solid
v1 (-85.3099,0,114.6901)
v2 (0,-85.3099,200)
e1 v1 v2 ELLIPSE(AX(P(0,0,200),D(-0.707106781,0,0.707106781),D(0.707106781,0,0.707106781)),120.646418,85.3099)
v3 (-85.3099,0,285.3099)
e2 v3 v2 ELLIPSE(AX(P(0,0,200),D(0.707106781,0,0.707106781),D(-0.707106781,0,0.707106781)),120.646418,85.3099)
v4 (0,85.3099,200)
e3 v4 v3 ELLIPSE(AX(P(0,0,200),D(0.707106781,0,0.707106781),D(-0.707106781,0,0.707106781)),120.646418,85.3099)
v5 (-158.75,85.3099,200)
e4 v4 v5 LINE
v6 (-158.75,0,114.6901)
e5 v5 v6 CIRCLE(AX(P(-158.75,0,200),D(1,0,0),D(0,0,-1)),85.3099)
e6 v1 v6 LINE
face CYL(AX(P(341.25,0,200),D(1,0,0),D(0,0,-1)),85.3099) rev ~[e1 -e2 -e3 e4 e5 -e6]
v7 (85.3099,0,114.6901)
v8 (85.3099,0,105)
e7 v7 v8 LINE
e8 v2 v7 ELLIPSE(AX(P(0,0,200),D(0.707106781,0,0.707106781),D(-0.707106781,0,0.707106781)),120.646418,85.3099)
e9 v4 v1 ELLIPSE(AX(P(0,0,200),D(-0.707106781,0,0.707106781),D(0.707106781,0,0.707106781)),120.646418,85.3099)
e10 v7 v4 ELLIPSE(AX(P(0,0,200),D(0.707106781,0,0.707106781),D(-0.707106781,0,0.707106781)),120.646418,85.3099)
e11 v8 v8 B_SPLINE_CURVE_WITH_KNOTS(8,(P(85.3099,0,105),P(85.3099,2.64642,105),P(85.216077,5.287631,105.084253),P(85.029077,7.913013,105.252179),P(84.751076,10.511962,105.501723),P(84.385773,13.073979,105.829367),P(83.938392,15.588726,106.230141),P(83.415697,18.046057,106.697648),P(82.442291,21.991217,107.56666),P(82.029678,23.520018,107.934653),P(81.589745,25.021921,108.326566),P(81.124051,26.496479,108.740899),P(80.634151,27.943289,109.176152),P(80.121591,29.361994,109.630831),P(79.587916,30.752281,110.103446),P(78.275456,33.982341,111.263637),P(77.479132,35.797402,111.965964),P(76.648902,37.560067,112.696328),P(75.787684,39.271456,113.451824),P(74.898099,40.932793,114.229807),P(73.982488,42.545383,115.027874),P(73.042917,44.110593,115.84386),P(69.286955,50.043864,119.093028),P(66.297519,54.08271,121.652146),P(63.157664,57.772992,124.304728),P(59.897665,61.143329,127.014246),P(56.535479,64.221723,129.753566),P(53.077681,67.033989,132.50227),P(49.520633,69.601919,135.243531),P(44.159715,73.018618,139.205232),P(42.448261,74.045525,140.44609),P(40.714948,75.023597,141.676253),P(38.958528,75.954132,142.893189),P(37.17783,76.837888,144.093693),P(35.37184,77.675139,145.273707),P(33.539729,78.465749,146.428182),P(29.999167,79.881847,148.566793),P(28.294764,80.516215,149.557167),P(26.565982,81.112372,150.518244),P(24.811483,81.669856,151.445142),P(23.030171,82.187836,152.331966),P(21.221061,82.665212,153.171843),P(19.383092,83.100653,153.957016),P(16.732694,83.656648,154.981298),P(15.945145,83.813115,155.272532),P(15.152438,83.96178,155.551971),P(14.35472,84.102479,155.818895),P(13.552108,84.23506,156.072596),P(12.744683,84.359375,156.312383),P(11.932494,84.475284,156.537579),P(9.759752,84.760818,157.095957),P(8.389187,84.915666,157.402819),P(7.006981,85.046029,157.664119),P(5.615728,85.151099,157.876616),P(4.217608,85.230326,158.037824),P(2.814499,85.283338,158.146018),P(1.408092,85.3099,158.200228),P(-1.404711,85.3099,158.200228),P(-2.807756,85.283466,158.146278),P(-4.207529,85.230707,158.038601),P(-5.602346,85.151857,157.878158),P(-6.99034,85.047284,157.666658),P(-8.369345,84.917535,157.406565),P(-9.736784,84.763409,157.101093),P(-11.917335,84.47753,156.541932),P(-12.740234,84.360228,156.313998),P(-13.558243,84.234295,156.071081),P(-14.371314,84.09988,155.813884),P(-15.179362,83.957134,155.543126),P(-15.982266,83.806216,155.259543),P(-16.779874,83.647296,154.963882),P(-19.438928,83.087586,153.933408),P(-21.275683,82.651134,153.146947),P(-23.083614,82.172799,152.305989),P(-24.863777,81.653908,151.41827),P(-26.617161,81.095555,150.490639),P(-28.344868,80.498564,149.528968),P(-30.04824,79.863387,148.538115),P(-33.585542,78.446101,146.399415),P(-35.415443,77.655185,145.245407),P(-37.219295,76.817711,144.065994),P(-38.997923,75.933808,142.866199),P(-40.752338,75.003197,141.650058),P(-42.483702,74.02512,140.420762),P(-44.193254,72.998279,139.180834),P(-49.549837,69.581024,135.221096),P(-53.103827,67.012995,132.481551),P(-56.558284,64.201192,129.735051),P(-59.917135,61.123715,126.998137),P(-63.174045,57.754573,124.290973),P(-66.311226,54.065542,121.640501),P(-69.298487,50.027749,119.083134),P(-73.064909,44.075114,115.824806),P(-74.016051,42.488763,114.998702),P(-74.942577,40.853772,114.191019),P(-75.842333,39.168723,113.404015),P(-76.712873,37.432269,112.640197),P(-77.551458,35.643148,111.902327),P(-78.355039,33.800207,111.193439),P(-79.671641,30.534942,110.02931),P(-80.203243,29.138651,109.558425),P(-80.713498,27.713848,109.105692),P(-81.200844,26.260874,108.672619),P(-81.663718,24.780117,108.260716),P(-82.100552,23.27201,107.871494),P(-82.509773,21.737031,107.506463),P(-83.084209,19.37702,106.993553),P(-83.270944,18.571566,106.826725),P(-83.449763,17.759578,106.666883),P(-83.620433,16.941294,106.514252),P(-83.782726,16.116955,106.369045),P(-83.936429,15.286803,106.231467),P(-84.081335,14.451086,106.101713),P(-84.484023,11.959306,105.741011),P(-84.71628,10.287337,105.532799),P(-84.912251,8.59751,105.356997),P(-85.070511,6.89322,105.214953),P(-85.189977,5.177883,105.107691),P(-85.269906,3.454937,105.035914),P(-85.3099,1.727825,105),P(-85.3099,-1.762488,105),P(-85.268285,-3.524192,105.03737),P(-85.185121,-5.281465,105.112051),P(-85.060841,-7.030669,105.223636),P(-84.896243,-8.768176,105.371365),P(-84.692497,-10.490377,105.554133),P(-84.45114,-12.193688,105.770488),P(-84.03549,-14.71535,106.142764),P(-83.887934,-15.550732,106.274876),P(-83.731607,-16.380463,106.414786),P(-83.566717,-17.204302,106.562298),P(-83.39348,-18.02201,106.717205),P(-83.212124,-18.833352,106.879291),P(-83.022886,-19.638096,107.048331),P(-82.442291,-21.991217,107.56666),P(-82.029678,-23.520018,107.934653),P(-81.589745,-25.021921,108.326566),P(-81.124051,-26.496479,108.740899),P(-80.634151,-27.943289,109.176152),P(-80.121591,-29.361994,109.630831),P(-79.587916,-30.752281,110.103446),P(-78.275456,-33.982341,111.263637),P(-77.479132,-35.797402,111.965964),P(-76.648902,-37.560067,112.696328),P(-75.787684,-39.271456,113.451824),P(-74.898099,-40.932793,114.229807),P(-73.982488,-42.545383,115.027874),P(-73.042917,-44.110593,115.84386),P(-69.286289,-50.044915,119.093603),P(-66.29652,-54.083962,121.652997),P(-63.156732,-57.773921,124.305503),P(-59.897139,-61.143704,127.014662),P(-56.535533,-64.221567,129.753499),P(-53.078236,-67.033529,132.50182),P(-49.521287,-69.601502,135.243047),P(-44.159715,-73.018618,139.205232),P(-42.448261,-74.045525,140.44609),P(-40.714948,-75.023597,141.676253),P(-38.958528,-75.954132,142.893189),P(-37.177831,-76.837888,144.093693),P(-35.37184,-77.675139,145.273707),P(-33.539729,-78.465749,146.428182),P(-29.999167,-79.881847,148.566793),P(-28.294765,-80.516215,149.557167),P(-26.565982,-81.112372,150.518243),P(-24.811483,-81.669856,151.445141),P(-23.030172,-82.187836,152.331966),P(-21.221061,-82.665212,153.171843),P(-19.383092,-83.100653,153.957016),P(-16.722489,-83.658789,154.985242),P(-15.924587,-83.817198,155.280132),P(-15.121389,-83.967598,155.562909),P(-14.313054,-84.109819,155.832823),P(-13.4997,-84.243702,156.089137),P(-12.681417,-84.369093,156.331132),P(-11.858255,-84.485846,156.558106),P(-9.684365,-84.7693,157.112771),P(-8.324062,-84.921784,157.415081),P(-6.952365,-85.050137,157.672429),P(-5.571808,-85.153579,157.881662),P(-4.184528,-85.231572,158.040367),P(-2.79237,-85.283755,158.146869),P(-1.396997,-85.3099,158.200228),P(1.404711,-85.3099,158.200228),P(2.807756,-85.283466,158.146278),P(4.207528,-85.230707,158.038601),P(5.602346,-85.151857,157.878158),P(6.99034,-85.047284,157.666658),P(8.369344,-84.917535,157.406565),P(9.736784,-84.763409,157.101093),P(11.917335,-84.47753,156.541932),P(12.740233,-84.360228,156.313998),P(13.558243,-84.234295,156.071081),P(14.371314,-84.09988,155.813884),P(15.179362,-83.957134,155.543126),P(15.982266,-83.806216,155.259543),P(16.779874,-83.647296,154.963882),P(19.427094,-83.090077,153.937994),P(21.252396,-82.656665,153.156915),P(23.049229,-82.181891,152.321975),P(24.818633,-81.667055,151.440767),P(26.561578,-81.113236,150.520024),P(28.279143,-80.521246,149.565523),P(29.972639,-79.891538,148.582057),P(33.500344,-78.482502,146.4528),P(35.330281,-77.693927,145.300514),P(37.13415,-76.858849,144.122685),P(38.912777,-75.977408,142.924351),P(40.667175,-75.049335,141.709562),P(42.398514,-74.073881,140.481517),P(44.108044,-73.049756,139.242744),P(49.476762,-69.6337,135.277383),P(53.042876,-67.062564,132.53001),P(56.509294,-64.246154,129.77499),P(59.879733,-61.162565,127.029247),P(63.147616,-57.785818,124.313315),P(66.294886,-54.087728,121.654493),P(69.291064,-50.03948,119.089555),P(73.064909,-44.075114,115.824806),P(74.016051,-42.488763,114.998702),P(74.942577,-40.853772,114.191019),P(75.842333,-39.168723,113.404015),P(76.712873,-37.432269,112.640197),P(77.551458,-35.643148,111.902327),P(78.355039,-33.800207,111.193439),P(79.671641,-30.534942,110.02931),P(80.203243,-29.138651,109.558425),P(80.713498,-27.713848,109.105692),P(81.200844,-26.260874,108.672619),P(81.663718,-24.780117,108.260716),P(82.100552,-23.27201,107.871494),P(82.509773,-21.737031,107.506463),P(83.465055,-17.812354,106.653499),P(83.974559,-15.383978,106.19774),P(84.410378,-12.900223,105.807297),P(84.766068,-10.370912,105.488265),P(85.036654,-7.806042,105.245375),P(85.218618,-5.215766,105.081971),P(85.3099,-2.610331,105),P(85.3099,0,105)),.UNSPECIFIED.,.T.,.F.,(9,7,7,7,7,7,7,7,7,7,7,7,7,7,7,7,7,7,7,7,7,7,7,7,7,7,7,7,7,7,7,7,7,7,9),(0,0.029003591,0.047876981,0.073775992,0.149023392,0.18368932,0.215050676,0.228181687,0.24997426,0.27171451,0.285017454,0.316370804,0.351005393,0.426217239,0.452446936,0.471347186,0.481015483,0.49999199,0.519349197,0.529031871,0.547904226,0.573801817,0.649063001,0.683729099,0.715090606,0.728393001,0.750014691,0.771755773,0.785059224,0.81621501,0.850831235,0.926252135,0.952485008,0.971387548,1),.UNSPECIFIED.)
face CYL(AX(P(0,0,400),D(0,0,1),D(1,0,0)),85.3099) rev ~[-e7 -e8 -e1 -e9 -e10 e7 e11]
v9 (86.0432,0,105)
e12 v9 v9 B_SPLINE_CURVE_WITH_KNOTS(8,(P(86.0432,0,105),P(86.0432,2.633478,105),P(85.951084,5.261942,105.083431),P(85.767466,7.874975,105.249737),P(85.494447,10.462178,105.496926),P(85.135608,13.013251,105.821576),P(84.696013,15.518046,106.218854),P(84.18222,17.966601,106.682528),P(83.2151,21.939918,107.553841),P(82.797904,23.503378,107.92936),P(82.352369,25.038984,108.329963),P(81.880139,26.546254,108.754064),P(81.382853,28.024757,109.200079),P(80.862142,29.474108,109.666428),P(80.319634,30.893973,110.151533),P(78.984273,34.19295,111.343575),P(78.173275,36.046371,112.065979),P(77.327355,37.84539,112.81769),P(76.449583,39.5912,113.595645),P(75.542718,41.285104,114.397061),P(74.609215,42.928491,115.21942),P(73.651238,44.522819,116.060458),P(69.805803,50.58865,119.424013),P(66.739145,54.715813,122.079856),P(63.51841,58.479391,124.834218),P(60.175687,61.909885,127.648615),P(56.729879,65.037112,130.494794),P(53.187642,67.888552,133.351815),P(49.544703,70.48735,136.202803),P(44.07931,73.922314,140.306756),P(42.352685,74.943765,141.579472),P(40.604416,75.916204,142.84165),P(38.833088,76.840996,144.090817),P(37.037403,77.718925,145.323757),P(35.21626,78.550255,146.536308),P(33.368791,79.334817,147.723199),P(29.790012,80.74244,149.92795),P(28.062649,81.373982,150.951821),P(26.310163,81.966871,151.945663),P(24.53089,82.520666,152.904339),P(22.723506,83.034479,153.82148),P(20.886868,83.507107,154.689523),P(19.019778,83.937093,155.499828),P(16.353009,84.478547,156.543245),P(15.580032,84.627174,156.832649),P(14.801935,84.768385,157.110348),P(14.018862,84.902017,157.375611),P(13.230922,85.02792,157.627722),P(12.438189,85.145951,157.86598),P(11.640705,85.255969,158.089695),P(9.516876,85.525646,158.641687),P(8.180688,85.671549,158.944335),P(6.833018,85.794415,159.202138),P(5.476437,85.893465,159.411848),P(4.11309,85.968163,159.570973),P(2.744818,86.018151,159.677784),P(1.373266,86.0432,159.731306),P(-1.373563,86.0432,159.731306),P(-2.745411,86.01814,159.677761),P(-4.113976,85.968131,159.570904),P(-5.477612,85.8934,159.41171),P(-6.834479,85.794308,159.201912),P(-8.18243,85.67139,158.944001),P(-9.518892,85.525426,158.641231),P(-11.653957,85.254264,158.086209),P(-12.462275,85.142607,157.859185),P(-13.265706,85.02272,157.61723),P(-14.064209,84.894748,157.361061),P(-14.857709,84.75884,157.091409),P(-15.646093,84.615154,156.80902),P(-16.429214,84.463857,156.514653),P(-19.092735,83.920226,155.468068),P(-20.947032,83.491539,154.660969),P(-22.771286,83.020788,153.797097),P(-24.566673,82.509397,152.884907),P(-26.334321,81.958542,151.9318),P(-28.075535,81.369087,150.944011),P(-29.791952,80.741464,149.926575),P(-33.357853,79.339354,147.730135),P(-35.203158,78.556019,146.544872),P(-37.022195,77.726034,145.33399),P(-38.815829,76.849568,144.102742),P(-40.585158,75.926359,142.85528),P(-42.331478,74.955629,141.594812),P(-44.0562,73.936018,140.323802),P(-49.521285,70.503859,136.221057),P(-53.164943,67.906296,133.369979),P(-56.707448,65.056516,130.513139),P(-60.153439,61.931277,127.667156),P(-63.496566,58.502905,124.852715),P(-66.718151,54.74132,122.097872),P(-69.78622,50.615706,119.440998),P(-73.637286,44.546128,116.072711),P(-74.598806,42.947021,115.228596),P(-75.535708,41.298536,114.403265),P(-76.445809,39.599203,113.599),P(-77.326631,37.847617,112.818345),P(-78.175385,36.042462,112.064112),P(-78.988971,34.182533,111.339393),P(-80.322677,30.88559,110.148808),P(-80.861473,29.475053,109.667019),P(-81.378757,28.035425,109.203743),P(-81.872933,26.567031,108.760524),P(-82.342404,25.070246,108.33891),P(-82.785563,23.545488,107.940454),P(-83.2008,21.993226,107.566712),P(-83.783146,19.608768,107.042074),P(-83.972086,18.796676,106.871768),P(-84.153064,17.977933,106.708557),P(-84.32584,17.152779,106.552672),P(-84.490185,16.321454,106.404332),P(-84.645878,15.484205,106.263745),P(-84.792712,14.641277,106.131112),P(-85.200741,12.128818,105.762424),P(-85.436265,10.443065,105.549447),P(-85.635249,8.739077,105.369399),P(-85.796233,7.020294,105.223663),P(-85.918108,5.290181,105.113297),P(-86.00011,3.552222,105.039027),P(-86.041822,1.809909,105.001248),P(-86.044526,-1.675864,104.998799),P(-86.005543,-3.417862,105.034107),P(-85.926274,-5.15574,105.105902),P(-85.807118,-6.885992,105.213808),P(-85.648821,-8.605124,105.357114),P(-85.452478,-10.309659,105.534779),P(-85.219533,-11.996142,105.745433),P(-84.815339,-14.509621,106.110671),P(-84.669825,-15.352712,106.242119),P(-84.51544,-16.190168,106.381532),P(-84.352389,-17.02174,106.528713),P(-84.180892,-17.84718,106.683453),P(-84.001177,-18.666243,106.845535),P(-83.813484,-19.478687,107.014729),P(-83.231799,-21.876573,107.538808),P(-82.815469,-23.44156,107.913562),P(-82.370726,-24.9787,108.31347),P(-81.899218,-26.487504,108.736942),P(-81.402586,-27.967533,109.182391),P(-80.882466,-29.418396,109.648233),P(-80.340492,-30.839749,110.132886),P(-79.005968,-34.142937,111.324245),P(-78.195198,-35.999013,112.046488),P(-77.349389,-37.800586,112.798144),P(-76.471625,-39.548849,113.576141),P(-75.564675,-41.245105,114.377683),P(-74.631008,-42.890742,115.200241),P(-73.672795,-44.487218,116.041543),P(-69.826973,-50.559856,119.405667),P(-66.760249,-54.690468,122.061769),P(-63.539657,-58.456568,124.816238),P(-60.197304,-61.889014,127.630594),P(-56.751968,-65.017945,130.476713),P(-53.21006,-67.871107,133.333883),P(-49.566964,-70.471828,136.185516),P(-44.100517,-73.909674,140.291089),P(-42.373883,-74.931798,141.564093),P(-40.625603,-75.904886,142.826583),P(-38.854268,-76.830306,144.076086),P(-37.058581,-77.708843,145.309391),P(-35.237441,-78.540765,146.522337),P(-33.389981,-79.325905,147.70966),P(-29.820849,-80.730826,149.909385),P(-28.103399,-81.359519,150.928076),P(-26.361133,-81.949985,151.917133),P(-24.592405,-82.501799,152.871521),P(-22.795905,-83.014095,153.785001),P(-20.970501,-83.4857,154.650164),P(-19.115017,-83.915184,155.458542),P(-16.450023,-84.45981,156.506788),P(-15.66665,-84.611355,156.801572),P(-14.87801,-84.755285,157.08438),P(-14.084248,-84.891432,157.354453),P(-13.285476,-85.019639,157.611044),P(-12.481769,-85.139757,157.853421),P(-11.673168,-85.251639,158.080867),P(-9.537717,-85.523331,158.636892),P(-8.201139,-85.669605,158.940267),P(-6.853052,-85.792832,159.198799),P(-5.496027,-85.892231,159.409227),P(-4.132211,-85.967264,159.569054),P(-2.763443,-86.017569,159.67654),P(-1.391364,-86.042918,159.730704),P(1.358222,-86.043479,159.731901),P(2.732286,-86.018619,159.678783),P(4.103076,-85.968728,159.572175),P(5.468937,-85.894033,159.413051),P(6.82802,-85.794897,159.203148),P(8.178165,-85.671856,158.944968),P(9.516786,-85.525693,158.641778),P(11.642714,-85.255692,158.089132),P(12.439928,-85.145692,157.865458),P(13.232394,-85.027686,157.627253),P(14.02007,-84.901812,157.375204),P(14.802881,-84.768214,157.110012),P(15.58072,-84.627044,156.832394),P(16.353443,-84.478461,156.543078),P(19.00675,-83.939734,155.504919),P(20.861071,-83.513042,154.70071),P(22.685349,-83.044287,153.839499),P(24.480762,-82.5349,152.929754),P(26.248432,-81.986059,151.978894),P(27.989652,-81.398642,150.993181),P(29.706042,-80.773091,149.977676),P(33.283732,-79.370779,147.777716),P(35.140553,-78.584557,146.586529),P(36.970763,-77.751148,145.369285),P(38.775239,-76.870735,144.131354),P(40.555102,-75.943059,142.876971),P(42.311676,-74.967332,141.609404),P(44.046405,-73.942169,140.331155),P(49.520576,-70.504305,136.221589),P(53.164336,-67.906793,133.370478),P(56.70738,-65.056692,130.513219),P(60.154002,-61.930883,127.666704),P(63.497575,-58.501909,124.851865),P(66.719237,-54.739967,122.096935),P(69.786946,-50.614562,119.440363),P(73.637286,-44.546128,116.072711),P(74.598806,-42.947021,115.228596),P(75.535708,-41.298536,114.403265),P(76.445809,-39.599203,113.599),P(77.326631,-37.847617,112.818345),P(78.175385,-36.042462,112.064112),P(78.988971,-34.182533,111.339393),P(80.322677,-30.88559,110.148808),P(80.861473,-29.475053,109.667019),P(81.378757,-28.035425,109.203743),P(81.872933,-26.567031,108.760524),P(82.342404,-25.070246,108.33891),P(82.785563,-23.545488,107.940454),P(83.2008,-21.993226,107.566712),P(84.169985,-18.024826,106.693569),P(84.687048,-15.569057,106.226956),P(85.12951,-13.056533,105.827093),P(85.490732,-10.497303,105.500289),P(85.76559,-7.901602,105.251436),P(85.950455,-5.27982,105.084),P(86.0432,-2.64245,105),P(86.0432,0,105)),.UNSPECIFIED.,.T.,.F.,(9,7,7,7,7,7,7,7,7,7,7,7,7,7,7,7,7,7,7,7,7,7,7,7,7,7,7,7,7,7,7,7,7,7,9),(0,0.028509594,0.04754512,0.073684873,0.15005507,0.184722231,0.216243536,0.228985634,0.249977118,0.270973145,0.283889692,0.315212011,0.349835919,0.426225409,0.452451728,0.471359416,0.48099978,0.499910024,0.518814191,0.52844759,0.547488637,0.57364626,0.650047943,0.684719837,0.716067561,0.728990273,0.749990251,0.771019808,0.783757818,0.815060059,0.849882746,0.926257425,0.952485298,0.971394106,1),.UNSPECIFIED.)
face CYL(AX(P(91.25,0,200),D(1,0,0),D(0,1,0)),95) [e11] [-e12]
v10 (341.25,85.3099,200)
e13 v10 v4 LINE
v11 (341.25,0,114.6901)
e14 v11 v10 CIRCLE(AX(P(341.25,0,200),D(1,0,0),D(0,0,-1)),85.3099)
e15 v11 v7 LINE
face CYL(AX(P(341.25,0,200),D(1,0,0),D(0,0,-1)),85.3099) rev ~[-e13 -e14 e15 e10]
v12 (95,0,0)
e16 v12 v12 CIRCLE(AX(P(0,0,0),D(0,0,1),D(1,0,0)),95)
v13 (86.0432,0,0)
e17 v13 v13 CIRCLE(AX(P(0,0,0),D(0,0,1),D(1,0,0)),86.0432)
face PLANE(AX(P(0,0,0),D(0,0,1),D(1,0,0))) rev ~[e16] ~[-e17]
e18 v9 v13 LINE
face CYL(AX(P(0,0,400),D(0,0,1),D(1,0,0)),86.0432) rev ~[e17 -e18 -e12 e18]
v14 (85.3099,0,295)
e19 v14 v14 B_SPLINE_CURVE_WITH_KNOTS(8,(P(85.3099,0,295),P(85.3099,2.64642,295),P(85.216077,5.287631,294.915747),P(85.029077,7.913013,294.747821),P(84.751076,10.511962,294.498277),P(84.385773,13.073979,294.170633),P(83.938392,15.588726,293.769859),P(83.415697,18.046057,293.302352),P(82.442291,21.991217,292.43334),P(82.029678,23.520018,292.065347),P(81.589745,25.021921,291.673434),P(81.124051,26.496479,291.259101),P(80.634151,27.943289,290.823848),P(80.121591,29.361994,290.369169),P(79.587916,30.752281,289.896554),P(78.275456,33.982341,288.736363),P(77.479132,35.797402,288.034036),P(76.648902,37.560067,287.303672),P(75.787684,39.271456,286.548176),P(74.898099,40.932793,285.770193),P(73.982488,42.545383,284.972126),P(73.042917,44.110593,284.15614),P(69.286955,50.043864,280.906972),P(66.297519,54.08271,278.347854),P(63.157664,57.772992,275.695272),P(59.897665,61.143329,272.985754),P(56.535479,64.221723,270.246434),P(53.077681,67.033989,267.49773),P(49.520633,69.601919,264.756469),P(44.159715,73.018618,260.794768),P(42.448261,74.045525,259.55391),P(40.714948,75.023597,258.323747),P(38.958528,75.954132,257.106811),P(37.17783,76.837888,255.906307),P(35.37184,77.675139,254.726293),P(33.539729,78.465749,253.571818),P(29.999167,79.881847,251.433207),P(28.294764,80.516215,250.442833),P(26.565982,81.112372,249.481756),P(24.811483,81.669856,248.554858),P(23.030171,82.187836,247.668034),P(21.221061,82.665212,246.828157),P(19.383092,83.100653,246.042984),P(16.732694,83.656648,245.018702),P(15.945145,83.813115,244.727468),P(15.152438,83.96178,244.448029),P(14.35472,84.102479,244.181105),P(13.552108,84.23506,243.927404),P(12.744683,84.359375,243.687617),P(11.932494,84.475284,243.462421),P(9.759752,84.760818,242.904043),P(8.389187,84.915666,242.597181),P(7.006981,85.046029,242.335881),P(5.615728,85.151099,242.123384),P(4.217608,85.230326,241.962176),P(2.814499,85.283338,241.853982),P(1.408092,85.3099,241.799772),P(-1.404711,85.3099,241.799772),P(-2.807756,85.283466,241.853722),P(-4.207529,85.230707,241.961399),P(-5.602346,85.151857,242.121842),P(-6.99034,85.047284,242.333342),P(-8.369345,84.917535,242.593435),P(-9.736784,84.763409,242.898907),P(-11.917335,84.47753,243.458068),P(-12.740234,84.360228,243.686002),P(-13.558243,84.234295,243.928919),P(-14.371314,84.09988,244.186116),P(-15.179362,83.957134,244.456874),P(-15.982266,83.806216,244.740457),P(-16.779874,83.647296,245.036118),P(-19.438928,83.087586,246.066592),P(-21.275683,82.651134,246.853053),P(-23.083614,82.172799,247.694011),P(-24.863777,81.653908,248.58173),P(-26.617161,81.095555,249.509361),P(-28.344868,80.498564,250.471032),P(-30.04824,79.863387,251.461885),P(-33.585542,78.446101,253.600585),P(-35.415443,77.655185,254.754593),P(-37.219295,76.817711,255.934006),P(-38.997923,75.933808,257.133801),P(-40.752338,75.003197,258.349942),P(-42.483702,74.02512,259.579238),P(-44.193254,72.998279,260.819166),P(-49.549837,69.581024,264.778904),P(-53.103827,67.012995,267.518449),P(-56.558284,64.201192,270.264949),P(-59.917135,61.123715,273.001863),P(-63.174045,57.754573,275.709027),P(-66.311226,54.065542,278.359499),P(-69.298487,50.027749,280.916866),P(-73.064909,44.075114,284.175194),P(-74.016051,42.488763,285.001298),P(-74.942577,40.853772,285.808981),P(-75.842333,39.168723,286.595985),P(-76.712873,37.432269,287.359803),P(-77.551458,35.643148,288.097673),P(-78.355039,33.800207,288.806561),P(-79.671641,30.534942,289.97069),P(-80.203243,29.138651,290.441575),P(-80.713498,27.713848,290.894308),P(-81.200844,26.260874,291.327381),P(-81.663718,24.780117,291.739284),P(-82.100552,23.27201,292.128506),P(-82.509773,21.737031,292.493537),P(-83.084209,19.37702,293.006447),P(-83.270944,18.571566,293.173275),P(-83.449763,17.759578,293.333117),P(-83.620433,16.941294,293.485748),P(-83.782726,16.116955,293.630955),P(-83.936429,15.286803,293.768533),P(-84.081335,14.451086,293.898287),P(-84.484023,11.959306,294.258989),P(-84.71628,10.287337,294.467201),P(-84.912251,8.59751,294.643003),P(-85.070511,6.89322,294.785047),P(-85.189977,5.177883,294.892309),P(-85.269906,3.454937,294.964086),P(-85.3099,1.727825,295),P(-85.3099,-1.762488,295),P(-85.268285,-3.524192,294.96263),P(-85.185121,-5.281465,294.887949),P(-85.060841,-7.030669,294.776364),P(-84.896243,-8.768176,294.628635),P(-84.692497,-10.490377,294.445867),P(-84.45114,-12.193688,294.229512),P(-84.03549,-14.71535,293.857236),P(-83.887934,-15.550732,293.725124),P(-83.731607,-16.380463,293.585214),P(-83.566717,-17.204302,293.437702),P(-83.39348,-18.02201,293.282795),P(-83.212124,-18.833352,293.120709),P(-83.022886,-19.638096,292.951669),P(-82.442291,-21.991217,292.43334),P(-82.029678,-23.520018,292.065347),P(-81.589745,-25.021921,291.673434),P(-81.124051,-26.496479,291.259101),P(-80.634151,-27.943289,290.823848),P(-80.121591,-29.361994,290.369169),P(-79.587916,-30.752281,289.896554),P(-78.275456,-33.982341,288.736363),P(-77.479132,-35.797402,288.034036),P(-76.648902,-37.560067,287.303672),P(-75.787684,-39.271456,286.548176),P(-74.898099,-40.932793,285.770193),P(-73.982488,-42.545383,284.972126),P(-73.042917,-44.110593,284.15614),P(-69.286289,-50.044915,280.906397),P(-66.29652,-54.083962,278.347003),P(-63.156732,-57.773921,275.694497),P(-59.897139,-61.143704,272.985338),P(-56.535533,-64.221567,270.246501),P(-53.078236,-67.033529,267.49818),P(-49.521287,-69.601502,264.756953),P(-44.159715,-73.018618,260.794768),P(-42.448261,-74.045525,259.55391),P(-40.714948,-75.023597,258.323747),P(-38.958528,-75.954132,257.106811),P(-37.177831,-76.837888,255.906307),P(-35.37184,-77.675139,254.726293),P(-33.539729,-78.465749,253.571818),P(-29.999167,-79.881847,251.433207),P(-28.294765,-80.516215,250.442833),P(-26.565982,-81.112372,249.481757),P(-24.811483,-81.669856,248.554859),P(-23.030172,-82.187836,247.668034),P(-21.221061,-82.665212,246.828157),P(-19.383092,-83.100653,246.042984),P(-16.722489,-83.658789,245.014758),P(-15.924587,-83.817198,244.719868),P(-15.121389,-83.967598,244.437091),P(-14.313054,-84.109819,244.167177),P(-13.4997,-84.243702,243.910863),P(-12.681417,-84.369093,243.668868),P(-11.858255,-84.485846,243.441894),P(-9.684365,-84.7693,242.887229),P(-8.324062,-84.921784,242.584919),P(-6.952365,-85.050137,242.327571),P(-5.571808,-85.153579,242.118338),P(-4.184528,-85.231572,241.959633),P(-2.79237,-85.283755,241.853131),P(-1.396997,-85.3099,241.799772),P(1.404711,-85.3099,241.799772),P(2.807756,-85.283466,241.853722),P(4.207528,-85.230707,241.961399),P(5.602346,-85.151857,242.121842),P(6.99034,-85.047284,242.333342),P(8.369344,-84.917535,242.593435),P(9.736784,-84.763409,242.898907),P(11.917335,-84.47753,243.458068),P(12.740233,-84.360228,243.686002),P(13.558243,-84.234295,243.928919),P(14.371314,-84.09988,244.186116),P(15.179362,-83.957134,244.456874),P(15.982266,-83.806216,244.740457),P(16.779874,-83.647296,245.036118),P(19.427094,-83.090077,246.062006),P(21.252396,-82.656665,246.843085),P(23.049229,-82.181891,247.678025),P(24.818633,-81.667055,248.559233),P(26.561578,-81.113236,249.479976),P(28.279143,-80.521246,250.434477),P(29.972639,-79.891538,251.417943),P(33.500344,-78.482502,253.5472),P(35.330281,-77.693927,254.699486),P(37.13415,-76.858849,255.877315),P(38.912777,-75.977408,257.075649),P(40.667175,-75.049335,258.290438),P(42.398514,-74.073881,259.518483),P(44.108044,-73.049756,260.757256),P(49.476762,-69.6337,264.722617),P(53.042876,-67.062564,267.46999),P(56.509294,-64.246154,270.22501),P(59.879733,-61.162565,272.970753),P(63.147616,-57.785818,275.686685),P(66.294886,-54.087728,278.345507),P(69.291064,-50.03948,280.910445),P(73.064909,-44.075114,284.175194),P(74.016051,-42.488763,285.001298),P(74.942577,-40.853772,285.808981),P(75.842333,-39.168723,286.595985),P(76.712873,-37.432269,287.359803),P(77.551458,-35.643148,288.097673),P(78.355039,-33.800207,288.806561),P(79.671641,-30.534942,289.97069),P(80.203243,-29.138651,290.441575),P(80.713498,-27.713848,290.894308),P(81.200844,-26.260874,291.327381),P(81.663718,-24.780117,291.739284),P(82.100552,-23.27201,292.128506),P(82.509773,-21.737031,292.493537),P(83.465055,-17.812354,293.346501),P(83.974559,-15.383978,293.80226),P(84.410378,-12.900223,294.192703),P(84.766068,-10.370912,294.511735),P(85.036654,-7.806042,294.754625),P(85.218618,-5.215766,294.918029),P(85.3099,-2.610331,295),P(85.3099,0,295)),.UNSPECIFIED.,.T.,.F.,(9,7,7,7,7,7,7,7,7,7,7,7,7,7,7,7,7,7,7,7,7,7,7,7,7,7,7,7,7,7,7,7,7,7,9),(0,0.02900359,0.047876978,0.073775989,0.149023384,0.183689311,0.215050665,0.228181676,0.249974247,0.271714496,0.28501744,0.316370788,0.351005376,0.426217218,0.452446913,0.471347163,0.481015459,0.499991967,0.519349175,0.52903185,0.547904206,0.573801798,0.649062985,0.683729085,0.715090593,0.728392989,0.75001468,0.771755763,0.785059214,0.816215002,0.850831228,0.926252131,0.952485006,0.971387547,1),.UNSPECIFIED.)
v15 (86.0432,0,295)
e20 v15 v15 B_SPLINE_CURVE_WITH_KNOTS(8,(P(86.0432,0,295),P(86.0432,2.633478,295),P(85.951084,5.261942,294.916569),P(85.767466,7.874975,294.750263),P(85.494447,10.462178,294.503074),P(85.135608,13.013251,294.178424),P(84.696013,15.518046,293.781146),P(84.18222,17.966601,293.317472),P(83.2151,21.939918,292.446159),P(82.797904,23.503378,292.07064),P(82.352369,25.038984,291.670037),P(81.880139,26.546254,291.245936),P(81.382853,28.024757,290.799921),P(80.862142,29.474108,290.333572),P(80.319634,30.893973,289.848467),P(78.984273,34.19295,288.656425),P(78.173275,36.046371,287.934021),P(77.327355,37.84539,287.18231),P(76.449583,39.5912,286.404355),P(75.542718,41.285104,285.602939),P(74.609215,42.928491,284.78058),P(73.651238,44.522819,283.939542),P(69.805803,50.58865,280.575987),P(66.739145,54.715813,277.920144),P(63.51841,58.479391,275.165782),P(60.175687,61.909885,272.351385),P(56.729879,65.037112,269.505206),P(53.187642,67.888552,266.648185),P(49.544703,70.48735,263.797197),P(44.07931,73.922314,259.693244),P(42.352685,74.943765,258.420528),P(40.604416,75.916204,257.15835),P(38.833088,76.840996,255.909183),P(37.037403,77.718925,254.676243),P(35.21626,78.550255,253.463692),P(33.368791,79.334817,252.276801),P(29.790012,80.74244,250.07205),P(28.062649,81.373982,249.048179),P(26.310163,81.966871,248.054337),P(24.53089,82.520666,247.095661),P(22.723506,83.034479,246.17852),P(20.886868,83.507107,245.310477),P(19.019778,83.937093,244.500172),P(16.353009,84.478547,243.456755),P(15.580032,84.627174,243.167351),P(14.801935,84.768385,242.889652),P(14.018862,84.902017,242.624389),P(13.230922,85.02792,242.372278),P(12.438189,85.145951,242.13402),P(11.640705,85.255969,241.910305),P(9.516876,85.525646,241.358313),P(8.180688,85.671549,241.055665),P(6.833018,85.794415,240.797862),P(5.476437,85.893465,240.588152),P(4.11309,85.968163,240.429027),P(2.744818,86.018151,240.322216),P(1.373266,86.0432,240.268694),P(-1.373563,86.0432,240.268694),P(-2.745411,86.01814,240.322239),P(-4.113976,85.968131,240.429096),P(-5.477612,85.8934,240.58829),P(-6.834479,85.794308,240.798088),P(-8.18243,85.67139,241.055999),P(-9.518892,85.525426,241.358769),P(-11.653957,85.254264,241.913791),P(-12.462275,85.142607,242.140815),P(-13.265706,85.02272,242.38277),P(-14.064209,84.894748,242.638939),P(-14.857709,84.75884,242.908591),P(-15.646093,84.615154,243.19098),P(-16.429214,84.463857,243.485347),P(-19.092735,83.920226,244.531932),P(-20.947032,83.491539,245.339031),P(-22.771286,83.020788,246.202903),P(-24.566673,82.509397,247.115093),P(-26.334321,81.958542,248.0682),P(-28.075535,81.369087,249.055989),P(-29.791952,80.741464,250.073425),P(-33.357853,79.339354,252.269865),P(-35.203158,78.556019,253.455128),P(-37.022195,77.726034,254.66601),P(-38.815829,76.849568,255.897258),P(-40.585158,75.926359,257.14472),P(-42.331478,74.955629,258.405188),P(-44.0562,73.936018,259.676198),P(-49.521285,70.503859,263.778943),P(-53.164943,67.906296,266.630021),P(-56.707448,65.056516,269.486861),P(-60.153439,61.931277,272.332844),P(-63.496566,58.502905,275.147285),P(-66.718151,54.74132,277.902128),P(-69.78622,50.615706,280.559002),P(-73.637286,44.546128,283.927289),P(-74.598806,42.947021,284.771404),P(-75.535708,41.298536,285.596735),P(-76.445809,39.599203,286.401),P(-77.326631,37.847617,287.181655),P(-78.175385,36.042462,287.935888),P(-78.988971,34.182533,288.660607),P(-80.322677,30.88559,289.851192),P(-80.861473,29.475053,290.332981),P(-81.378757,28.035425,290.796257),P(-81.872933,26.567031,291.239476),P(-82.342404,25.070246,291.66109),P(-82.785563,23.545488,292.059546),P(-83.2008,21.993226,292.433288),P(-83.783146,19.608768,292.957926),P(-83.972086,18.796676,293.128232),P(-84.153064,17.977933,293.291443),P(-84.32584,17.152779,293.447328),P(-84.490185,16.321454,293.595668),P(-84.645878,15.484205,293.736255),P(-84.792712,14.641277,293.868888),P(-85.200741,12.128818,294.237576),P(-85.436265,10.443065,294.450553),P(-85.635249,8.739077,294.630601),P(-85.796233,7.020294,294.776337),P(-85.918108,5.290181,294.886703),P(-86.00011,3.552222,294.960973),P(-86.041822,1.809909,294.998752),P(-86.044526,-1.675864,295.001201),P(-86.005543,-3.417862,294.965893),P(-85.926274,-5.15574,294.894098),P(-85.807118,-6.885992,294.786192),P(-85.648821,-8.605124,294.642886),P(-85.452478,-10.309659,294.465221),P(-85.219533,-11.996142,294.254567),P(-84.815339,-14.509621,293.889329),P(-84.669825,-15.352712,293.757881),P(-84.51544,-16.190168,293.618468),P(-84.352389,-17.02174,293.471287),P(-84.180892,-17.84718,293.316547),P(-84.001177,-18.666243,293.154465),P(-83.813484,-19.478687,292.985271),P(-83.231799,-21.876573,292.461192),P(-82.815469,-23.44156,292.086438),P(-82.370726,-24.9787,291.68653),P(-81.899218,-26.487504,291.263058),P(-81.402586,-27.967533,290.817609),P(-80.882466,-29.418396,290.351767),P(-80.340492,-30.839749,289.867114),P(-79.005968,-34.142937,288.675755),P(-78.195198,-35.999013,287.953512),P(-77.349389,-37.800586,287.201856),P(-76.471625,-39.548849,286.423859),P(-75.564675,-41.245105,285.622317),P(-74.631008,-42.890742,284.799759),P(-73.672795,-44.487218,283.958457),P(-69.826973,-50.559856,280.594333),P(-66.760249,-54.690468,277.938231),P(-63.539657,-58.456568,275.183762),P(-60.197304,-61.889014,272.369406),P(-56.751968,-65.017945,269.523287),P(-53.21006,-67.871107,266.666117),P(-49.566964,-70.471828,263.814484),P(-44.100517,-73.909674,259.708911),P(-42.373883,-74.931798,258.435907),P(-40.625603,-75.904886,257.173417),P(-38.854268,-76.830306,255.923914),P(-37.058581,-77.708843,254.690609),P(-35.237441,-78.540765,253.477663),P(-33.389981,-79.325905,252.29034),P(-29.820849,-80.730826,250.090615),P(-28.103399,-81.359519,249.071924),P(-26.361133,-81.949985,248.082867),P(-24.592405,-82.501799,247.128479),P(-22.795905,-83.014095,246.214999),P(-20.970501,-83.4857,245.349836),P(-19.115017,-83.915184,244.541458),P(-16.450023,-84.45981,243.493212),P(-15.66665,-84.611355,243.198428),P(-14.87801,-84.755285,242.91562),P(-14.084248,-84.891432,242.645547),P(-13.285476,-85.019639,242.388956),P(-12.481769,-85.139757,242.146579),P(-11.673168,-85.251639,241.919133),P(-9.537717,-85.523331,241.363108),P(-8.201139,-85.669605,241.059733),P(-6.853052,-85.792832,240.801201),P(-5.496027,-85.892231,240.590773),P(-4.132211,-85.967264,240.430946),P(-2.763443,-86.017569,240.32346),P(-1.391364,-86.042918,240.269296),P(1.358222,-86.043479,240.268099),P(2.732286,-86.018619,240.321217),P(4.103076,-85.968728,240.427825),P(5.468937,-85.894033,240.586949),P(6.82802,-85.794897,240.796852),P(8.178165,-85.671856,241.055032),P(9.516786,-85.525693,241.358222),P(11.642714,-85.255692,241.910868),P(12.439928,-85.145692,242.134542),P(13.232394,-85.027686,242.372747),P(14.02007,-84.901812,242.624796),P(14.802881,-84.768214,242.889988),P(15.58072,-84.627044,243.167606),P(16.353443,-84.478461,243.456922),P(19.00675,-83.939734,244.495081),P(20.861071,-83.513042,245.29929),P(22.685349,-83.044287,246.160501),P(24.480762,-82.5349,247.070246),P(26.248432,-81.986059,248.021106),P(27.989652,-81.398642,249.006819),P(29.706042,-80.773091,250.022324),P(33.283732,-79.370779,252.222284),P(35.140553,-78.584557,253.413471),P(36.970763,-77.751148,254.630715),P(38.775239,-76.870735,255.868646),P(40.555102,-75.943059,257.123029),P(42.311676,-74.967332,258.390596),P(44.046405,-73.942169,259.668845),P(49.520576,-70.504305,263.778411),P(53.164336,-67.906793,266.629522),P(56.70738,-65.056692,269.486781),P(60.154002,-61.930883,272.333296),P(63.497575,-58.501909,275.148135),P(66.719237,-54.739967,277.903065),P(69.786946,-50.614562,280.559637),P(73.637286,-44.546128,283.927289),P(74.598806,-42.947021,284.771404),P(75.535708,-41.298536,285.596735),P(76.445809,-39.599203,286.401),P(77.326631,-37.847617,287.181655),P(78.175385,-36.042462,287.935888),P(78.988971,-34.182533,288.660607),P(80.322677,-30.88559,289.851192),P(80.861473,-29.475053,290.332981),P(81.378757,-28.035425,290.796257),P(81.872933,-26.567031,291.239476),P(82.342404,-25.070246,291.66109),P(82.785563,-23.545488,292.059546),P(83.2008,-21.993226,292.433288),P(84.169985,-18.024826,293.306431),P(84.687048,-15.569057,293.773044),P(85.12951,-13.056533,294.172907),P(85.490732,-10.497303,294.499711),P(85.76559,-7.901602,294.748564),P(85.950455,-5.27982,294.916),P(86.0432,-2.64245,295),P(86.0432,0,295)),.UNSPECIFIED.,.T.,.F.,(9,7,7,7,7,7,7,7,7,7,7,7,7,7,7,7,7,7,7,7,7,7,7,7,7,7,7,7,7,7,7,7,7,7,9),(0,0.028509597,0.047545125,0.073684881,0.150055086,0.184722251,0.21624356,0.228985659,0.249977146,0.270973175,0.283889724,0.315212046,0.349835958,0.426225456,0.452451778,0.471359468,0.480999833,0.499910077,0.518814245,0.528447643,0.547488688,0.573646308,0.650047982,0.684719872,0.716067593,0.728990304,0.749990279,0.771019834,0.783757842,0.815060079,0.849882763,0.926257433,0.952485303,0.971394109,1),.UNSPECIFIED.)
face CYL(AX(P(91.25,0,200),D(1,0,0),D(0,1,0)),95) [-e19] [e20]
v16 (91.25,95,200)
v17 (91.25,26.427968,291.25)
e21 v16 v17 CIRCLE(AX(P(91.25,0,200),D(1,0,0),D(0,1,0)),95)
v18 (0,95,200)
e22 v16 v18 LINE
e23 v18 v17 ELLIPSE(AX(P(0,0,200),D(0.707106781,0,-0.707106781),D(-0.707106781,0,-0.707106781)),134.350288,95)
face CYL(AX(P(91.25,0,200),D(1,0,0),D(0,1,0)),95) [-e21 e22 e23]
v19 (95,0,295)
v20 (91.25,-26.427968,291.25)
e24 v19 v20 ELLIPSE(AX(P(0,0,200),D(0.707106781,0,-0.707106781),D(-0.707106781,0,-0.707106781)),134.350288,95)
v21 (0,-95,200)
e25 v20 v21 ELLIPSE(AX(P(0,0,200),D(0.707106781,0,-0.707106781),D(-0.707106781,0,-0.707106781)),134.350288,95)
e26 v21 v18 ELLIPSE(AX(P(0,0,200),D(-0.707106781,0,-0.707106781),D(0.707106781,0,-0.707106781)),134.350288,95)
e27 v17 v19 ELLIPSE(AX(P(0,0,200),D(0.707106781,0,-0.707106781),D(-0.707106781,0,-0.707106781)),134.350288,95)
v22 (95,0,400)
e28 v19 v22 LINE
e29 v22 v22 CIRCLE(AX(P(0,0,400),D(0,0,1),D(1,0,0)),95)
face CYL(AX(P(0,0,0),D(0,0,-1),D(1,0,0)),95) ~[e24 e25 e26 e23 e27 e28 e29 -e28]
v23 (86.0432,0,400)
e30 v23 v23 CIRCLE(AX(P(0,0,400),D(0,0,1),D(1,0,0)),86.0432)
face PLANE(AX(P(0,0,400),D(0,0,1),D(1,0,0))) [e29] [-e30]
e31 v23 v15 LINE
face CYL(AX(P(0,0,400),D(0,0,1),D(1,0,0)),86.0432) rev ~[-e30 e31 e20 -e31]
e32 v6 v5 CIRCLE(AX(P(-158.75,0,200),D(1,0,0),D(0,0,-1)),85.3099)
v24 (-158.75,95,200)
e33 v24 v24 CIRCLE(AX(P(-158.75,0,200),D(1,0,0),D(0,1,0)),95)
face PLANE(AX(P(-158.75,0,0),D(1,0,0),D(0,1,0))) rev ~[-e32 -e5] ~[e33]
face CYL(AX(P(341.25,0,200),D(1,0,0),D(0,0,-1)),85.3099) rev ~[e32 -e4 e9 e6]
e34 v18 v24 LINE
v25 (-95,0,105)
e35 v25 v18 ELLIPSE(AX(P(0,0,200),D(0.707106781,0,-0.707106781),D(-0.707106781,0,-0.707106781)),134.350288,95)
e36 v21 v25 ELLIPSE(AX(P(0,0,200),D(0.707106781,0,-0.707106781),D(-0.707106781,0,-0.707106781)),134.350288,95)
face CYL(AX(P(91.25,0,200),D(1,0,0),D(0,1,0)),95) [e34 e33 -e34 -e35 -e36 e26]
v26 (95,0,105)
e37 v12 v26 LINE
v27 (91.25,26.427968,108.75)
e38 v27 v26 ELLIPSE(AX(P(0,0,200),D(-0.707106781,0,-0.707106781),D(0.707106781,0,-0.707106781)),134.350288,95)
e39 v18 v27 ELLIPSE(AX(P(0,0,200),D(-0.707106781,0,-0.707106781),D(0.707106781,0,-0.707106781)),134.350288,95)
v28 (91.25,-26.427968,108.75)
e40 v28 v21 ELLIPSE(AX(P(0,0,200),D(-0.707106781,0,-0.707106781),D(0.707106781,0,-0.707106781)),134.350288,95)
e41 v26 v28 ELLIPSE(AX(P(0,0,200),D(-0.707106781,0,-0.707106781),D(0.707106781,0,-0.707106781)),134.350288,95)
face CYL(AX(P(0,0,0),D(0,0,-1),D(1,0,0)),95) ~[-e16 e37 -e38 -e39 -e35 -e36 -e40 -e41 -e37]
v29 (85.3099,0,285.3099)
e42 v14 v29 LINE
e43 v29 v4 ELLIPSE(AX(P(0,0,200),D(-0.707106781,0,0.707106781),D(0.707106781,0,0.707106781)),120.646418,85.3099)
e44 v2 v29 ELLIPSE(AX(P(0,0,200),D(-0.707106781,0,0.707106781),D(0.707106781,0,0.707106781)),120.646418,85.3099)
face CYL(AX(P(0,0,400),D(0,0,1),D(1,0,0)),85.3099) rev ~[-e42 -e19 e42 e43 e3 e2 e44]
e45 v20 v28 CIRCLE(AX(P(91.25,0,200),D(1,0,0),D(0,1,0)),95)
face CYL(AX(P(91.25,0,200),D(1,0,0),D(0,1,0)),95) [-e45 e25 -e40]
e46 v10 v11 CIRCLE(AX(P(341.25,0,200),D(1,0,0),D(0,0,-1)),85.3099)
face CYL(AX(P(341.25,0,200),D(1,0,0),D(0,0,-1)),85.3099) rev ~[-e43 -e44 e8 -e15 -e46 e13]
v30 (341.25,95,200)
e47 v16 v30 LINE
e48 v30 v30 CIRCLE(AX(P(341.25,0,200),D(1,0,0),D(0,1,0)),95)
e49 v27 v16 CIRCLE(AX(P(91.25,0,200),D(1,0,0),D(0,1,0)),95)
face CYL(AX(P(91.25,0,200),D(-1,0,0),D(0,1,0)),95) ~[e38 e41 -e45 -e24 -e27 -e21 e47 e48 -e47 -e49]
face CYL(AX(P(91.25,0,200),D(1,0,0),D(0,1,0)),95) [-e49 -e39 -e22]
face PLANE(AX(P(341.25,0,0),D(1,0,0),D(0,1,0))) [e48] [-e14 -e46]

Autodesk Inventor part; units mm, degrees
ref_plane "XZ Plane" through (0, 0, 0) normal (0, 1, 0) x (-1, 0, 0)
ref_plane "XY Plane" through (0, 0, 0) normal (0, 0, 1) x (1, 0, 0)
sketch "Boceto1" plane through (0, 0, 0) normal (0, 0, 1) x (1, 0, 0)
  circle A0 centre (0, 0) radius 95
  dimension "d0" = 190
extrude "Extrusión1" add sketch "Boceto1" along normal blind 400
sketch "Boceto2" plane through (0, 0, 400) normal (0, 0, 1) x (1, 0, 0)
  point P0 (0, 0)
sketch "Boceto3" plane through (0, 0, 400) normal (0, 0, 1) x (1, 0, 0)
  circle A0 centre (0, 0) radius 86.0432
extrude "Extrusión2" cut sketch "Boceto3" against normal blind 400
ref_plane "Plano de trabajo2" through (91.25, 0, 0) normal (1, 0, 0) x (0, 1, 0)
sketch "Boceto4" plane through (91.25, 0, 0) normal (1, 0, 0) x (0, 1, 0)
  line L0 (95, 400) -> (-95, 400) construction
  line L1 (0, 400) -> (0, 0) construction
  line L2 (0, 0) -> (0, 400) construction
  line L3 (0, 400) -> (0, 200) construction
  line L4 (95, 0) -> (95, 400) construction
  line L5 (95, 203.9147) -> (-95, 203.9147) construction
  line L6 (-95, 0) -> (-95, 400) construction
  circle A0 centre (0, 200) radius 95
  dimension "d7" = 190
extrude "Extrusión3" add sketch "Boceto4" along normal mid plane 500
sketch "Boceto5" plane through (0, 0, 400) normal (0, 0, 1) x (1, 0, 0)
  circle A0 centre (0, 0) radius 85.3099
extrude "Extrusión4" cut sketch "Boceto5" against normal blind 500
sketch "Boceto6" plane through (341.25, 0, 200) normal (1, 0, 0) x (0, 0, -1)
  circle A0 centre (0, 0) radius 85.3099
  line L0 (-41.7999, 85.3099) -> (41.7999, 85.3099) projected
  point P0 (200, 0)
extrude "Extrusión5" cut sketch "Boceto6" against normal blind 500
